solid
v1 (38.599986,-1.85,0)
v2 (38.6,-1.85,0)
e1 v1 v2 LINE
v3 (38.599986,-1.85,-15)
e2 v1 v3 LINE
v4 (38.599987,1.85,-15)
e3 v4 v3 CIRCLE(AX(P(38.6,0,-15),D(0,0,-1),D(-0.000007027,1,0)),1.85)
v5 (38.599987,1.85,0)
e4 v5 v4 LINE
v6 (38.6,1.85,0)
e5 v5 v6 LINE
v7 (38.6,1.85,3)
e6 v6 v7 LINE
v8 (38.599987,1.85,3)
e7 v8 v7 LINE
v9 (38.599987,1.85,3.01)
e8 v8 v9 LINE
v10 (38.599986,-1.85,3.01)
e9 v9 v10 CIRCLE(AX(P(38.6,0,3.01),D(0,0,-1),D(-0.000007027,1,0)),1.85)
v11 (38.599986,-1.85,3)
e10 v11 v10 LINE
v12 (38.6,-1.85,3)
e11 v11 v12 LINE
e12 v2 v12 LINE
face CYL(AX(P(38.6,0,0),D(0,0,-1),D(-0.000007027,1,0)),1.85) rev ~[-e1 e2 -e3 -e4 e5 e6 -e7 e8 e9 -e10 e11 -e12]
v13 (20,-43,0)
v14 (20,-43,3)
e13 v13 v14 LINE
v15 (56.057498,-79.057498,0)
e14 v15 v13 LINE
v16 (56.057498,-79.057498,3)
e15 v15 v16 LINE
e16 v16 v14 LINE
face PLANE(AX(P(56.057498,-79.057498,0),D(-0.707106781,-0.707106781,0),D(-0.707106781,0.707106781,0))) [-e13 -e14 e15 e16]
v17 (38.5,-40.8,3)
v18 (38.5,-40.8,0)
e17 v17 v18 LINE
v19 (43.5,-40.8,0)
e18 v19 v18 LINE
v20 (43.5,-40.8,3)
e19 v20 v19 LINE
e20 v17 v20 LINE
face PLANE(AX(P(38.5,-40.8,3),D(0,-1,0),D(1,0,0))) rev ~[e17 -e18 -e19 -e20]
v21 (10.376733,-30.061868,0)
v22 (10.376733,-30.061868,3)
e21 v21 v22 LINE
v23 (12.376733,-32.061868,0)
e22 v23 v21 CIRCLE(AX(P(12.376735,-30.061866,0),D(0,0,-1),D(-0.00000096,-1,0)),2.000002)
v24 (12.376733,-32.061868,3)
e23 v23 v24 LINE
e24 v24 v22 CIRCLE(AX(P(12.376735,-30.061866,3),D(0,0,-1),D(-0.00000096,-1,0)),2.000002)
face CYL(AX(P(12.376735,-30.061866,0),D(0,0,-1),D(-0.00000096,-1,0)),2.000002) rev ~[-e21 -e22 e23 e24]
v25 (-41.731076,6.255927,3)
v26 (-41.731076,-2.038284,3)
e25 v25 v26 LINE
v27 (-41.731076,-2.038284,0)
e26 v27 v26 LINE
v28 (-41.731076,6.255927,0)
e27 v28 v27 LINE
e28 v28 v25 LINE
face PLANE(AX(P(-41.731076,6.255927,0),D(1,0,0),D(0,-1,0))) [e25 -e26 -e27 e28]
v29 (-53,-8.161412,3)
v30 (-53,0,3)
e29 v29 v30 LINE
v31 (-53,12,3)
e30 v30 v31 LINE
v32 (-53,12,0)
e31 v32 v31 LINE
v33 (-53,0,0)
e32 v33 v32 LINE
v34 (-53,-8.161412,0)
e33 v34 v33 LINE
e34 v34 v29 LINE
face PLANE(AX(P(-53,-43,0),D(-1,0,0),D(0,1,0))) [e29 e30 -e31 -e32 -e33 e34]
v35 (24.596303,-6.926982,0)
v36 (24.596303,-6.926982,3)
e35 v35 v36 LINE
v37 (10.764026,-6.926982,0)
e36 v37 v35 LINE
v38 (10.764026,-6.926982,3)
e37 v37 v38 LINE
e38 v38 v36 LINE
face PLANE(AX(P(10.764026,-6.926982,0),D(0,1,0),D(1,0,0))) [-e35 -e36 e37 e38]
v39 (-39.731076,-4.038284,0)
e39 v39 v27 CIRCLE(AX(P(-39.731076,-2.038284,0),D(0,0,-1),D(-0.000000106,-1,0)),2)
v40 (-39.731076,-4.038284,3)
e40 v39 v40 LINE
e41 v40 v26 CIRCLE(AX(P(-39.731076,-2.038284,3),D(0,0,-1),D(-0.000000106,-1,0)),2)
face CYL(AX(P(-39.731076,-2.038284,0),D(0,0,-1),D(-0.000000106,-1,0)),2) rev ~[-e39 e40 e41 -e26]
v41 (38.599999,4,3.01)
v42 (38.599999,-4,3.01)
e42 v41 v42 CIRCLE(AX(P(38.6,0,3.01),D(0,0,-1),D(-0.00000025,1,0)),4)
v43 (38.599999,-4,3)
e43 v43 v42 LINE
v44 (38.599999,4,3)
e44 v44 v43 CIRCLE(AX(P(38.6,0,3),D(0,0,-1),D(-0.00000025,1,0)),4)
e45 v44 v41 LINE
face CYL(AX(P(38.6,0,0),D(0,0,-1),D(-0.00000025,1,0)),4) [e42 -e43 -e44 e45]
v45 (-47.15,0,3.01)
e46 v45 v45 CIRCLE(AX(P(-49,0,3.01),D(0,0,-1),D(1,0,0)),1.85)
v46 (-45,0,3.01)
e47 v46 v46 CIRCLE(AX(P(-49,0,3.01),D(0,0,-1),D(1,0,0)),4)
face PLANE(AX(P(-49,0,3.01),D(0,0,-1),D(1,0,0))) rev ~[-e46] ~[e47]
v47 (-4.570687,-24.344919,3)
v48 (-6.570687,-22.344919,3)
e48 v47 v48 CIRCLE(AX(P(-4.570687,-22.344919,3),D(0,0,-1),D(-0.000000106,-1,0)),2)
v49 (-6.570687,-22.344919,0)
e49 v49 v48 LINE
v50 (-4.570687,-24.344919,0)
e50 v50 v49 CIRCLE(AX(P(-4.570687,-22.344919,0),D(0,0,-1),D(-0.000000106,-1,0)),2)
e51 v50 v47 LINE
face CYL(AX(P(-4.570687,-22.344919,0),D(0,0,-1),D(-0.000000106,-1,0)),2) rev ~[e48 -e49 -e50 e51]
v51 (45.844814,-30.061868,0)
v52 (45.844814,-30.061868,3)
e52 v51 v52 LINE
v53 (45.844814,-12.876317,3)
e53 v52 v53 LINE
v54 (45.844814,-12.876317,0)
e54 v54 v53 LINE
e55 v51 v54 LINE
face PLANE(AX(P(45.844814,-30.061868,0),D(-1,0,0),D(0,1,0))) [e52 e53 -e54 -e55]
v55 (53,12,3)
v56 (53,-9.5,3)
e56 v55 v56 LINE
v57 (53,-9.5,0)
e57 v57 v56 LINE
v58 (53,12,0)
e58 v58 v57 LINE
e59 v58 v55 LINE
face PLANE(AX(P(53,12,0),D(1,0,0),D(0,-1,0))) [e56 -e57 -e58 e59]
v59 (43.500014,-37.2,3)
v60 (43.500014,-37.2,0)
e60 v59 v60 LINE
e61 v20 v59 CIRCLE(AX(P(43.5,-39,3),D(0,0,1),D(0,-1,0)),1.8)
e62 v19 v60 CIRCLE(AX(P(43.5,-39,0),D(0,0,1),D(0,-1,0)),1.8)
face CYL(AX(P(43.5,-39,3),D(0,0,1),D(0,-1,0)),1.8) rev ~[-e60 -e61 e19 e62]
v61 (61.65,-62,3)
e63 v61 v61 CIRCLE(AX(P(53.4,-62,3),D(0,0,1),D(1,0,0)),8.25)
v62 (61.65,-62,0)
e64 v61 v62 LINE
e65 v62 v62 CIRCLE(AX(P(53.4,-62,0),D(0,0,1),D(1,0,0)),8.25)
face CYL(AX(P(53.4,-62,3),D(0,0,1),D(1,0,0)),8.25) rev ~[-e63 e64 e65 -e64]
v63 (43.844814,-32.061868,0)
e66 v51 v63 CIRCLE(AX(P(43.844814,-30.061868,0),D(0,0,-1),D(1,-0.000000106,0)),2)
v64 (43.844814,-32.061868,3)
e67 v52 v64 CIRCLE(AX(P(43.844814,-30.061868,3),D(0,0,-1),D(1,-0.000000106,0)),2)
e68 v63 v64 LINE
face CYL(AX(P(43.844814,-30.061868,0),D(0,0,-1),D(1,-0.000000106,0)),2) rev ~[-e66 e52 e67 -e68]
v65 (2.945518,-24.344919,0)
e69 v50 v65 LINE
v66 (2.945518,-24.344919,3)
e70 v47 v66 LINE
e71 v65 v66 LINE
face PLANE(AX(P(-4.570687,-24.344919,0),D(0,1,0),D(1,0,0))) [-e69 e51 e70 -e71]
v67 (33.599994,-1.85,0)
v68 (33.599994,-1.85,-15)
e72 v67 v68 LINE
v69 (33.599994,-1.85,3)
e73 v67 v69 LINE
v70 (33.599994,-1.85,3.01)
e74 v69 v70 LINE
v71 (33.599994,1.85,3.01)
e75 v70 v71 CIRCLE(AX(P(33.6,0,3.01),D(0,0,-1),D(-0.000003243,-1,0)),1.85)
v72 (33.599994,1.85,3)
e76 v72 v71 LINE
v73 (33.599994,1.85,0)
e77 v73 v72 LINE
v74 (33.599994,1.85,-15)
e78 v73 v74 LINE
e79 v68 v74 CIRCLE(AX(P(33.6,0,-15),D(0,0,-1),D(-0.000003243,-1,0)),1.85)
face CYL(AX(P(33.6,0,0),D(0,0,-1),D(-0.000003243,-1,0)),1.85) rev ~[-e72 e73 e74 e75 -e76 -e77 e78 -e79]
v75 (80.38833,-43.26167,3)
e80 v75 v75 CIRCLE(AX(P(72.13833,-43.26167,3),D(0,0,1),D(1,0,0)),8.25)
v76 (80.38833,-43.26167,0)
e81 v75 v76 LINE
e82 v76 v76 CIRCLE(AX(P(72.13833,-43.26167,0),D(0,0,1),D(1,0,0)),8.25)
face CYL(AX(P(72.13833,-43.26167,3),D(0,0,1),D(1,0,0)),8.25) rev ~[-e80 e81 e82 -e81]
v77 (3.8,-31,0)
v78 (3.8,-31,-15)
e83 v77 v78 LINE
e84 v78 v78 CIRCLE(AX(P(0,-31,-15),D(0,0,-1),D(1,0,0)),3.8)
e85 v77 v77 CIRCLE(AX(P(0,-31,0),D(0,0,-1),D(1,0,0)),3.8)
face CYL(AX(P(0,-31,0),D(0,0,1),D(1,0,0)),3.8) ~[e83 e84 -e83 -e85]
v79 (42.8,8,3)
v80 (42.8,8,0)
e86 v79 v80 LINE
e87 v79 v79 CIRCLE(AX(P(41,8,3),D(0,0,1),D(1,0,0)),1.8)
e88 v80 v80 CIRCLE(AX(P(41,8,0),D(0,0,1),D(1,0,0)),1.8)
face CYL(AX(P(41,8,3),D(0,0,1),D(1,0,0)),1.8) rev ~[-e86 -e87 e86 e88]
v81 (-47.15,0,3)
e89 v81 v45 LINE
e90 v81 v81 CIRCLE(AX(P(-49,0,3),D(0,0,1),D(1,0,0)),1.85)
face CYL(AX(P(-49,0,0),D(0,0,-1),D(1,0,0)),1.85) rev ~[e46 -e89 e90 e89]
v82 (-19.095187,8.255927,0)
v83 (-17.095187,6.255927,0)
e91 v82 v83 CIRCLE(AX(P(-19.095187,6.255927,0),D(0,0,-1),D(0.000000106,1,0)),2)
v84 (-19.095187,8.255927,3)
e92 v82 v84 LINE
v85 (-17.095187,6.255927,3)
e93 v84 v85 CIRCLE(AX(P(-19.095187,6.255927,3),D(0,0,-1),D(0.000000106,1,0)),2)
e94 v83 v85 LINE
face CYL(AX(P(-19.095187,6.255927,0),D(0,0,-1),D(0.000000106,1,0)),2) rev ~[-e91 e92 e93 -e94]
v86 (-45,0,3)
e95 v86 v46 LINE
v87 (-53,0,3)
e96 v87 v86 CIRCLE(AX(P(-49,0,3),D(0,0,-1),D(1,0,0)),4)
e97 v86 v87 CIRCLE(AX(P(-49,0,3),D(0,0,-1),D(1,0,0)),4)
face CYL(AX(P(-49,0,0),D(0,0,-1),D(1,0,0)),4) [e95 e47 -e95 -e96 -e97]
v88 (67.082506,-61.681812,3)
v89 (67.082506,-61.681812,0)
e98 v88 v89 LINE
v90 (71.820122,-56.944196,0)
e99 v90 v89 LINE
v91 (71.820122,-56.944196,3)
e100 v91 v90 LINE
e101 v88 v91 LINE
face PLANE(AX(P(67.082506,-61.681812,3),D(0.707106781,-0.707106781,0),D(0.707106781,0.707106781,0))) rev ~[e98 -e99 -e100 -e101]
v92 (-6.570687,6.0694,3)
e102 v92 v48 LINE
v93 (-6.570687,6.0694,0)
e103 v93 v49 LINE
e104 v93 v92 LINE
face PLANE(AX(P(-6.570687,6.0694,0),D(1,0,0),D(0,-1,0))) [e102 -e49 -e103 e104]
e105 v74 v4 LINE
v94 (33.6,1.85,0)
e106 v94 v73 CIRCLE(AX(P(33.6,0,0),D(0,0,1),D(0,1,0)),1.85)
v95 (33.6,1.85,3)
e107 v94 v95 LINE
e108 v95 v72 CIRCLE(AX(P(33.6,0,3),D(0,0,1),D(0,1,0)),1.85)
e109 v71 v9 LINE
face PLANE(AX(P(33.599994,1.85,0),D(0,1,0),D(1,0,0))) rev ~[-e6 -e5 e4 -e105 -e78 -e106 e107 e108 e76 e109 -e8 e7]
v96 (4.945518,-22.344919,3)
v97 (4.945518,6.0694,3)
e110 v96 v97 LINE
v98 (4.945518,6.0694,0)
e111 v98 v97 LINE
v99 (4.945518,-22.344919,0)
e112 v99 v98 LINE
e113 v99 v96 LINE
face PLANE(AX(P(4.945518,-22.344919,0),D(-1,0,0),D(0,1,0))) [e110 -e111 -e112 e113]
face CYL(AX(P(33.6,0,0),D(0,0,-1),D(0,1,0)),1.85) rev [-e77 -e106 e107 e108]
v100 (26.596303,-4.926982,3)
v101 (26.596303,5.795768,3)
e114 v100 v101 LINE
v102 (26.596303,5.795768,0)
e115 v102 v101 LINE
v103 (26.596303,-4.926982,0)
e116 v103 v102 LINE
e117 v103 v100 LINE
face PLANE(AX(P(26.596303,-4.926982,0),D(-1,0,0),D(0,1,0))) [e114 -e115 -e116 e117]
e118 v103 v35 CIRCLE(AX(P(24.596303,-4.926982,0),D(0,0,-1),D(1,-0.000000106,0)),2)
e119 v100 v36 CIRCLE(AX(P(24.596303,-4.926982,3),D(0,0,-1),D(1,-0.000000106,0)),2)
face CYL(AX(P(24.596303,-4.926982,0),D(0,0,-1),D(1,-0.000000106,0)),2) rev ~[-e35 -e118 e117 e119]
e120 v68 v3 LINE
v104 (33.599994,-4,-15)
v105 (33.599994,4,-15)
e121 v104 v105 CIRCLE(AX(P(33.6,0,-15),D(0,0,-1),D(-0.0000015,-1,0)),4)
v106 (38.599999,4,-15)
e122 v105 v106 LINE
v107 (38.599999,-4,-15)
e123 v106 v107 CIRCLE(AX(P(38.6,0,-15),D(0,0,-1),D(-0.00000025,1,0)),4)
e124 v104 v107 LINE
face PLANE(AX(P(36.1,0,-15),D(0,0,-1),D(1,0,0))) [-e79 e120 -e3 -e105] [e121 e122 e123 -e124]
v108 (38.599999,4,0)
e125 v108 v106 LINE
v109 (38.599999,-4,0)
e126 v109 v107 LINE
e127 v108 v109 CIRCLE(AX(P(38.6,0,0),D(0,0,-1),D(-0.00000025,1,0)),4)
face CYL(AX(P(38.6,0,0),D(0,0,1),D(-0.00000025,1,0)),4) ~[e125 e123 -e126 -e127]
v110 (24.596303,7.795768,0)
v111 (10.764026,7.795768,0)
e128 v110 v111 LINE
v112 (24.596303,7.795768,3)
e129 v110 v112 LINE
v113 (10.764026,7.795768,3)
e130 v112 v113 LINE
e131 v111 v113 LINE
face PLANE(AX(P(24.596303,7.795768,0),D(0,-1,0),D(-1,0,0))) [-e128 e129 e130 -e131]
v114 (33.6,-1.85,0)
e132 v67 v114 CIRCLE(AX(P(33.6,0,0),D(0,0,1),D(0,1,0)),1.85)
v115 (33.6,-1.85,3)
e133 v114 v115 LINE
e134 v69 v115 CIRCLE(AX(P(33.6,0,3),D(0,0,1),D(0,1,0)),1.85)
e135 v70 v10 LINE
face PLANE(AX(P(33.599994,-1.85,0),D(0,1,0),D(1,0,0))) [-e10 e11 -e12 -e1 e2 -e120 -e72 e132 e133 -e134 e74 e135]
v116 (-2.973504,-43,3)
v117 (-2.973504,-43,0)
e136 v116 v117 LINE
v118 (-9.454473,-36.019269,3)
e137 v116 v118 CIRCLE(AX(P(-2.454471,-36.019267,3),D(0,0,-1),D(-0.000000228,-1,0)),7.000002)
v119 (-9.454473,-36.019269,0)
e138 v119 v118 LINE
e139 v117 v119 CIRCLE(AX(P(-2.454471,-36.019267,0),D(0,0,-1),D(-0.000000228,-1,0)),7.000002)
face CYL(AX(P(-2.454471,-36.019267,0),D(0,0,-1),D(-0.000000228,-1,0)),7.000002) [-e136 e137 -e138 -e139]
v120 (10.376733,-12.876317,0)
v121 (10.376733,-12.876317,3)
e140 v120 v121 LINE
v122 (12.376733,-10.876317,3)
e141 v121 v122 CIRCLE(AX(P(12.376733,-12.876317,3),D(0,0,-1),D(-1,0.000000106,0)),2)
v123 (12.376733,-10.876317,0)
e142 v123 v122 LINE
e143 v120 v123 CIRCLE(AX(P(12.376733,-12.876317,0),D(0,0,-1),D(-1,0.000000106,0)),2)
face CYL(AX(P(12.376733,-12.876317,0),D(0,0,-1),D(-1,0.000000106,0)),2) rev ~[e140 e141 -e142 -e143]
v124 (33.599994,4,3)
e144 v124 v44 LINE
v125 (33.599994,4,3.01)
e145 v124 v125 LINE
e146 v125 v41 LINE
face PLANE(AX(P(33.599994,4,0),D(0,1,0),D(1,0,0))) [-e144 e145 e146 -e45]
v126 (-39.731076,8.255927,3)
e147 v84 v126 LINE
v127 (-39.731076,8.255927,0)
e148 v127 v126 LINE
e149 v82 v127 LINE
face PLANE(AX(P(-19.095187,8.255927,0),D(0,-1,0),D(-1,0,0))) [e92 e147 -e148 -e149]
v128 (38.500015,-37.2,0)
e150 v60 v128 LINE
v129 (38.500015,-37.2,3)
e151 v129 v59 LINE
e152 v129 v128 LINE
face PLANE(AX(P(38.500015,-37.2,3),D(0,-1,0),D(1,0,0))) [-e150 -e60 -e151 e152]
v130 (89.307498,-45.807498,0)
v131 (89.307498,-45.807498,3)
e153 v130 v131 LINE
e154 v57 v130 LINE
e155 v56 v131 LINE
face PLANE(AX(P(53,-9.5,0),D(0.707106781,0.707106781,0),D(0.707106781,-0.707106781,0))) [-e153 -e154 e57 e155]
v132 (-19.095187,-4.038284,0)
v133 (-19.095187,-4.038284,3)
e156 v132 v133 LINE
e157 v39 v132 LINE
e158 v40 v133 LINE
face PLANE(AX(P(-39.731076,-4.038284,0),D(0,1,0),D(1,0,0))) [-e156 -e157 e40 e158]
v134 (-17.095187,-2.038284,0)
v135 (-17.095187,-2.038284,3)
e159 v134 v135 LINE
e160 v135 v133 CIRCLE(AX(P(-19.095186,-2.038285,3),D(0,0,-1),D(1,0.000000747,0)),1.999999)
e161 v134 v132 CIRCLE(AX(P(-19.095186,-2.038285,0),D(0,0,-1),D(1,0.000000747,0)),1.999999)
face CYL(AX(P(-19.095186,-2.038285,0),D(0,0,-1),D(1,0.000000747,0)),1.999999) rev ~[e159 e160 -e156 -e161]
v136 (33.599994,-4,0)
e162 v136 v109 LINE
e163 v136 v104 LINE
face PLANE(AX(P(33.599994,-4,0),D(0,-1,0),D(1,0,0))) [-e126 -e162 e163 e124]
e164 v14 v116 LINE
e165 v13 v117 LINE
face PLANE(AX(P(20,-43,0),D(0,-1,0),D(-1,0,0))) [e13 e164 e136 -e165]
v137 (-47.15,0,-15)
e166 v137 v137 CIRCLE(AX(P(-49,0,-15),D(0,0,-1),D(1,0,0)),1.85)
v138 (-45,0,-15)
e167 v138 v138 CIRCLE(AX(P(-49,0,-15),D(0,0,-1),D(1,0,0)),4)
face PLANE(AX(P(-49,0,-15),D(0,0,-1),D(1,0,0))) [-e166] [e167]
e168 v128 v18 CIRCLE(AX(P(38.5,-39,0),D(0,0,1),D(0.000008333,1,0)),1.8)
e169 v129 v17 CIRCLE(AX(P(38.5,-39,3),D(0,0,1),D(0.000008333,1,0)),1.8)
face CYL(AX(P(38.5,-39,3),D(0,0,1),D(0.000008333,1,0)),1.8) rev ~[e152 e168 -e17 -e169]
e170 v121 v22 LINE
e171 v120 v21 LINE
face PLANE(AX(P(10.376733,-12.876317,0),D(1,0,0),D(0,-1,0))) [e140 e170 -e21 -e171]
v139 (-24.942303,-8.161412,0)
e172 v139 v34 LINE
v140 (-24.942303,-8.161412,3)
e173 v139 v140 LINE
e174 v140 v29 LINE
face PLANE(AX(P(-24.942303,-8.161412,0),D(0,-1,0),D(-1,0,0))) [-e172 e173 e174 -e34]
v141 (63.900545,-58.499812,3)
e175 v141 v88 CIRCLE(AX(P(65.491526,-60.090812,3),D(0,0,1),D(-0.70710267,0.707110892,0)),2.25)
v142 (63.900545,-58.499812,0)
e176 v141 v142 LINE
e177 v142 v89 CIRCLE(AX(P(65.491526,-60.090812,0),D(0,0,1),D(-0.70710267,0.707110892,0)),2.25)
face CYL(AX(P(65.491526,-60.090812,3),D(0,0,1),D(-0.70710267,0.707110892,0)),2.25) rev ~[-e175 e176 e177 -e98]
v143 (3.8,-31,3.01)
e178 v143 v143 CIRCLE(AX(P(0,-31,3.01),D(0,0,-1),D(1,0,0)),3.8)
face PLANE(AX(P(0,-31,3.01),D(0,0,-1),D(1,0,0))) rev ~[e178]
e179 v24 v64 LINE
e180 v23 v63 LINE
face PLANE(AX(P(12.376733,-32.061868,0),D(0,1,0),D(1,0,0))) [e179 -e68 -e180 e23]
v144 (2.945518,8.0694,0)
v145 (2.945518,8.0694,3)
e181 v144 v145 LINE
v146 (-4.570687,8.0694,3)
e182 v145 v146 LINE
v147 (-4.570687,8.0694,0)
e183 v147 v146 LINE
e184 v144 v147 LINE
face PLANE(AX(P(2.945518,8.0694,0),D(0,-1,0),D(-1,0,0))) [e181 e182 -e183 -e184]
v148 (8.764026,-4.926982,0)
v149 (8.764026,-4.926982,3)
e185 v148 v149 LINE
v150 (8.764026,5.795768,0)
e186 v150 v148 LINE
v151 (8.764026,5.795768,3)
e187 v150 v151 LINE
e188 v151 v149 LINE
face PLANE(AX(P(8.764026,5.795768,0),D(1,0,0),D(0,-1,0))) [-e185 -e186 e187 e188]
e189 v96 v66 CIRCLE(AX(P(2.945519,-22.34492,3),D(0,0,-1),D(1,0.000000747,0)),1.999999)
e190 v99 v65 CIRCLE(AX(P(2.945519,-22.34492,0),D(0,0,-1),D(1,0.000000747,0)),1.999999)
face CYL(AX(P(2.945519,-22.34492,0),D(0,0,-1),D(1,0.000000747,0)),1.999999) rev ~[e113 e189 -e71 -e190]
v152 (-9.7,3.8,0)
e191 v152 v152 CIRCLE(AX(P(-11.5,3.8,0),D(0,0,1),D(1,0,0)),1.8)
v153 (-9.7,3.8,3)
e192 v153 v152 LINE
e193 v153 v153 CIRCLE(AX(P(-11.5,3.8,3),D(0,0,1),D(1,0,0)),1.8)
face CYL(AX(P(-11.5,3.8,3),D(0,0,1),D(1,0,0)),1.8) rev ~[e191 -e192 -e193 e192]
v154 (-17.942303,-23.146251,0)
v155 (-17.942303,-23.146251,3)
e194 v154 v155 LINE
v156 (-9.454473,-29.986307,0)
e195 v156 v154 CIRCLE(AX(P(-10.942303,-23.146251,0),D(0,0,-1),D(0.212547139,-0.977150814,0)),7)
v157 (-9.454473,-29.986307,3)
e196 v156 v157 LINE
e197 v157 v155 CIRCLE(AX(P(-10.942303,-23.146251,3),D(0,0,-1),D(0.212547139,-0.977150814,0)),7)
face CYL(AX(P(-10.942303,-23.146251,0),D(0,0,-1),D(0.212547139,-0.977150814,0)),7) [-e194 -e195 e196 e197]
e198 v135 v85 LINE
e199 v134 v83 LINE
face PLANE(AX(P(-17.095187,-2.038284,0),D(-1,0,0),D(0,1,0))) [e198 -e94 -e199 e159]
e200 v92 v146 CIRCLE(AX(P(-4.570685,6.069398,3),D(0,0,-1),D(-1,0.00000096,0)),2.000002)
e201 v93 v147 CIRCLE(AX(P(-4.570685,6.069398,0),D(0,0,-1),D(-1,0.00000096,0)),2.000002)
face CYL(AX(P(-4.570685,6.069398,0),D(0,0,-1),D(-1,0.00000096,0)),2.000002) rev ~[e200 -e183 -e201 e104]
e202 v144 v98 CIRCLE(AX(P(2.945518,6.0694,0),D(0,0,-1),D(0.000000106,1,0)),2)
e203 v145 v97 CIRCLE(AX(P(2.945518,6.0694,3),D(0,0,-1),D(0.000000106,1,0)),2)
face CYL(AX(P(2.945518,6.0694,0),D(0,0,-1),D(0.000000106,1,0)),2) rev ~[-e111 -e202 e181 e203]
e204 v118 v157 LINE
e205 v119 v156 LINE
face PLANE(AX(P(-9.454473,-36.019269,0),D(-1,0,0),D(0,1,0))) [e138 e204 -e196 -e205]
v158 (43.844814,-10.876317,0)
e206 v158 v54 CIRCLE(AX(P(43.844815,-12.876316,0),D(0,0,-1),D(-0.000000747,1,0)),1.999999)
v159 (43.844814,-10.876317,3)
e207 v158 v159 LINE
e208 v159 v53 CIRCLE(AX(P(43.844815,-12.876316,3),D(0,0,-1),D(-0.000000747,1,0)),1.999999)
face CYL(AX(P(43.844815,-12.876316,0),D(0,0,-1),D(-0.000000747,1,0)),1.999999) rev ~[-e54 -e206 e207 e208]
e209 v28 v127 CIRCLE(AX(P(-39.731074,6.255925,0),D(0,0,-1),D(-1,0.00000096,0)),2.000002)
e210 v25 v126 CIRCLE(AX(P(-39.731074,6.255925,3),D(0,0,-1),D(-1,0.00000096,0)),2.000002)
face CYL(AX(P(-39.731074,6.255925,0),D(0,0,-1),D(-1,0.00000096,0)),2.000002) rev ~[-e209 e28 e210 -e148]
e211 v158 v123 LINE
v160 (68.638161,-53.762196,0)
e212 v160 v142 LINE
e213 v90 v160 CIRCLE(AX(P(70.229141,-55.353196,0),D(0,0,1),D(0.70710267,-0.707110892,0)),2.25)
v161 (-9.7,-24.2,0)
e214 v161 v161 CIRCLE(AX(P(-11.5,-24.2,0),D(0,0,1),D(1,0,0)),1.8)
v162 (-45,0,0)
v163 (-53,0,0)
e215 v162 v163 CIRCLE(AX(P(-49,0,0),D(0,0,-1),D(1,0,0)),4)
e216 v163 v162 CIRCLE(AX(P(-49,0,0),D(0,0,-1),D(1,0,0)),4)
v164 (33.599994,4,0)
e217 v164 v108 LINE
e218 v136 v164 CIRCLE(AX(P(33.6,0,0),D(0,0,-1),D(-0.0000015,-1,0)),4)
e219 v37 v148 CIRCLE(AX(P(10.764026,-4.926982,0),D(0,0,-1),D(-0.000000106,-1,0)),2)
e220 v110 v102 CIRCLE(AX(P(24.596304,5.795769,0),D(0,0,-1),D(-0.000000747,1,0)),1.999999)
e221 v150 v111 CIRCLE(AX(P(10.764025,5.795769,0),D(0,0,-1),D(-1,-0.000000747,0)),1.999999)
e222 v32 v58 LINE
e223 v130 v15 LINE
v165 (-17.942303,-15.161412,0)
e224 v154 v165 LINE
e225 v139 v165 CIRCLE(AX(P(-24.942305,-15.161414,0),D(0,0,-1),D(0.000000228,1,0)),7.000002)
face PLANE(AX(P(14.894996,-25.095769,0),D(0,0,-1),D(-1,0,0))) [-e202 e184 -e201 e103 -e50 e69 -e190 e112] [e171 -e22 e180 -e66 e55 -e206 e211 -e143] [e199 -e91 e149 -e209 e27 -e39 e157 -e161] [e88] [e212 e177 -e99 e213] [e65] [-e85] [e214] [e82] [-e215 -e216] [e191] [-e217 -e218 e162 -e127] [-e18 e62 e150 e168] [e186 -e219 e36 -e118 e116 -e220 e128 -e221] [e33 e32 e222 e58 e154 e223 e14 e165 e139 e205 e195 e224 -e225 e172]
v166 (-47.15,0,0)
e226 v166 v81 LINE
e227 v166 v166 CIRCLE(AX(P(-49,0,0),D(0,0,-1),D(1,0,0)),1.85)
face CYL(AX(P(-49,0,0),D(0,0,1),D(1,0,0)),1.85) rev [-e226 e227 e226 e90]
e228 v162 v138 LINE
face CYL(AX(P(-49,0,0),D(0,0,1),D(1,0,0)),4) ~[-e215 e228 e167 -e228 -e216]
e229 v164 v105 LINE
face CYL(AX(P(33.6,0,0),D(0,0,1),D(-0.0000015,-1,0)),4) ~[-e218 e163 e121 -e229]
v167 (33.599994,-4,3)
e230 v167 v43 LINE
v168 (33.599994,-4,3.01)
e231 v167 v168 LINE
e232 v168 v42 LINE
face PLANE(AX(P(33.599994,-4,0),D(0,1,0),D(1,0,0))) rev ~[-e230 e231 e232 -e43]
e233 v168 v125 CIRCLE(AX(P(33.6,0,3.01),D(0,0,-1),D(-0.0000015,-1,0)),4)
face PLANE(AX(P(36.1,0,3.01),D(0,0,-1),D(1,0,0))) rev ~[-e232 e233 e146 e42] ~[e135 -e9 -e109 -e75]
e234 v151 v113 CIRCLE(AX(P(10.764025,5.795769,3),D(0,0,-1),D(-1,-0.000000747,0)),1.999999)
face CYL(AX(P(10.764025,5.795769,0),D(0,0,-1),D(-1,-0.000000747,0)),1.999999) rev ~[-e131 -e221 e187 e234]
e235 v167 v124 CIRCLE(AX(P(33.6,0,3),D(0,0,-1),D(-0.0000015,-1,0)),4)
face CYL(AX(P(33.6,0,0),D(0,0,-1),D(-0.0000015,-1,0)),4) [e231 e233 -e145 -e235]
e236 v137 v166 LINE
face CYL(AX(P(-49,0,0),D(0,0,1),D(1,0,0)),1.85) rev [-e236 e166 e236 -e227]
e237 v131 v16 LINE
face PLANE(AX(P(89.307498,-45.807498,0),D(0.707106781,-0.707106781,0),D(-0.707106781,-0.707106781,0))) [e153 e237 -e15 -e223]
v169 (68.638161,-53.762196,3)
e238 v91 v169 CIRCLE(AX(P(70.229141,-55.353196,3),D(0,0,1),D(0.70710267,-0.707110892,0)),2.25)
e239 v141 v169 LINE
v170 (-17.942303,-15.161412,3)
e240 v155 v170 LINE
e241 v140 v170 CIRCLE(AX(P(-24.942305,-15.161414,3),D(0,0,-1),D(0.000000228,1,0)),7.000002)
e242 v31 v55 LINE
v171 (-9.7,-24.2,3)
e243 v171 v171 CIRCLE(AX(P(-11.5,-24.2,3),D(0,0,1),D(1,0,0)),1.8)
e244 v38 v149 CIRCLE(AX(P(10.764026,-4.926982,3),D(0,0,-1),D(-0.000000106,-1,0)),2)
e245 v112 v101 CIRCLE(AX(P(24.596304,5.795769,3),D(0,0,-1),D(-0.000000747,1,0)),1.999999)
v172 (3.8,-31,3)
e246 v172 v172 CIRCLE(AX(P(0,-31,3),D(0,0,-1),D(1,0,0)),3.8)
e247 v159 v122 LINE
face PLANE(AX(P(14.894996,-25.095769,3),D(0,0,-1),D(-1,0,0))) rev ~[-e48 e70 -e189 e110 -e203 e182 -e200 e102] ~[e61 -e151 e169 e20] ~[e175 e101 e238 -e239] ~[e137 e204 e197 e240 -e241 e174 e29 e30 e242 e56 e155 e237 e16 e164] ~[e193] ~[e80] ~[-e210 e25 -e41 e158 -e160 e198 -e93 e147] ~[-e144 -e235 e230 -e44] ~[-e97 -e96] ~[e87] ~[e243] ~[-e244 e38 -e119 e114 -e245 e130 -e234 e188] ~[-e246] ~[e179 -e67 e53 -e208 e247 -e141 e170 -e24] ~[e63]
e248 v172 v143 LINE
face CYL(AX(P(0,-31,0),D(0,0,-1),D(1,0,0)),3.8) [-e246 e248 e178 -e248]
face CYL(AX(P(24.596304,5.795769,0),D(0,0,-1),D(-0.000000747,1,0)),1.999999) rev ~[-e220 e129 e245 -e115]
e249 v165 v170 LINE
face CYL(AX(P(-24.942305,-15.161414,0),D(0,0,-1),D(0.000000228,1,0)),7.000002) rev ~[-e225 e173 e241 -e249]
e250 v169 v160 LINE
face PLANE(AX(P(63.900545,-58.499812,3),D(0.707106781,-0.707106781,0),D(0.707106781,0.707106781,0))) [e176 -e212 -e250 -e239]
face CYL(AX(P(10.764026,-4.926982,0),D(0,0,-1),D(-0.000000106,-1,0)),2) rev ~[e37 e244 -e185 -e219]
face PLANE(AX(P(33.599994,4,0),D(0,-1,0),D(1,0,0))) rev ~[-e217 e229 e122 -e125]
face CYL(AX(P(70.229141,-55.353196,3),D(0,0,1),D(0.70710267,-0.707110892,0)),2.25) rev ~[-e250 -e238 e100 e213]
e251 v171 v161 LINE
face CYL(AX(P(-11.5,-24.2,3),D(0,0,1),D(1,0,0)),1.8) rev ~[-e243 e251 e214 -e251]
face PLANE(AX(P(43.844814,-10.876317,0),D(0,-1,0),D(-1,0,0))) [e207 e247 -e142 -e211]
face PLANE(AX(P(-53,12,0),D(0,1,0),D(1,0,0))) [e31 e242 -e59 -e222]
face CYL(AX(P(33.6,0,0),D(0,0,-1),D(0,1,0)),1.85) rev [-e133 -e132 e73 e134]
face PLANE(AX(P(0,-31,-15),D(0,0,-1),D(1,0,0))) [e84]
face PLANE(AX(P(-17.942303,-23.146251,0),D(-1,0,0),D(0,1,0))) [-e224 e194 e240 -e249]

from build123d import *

# Parameters (mm, degrees)
SKETCH_R          = 1.85
PAD_DEPTH         = 3
SKETCH002_R       = 8.25
POCKET_DEPTH      = 5
SKETCH003_R       = 1.8
POCKET001_DEPTH   = 5
SKETCH001_R       = 3.8
SKETCH001_R_2     = 4
SKETCH001_R_3     = 1.85
PAD001_DEPTH      = 15
PAD001_DEPTH_BACK = 3.01
POCKET002_DEPTH   = 5


with BuildPart() as part:
    # Sketch → Pad (new body)
    with BuildSketch(Plane.XY):
        Polygon((-53, 12), (53, 12), (53, -9.5), (89.307498, -45.807498), (56.057498, -79.057498), (20, -43), (-53, -43), align=None)
        with Locations((-49, 0)):
            Circle(SKETCH_R, mode=Mode.SUBTRACT)
        with BuildLine():
            ThreePointArc((33.6, 1.85), (31.75, 0), (33.6, -1.85))
            Line((33.6, -1.85), (38.6, -1.85))
            ThreePointArc((38.6, -1.85), (40.45, 0), (38.6, 1.85))
            Line((33.6, 1.85), (38.6, 1.85))
        make_face(mode=Mode.SUBTRACT)
    extrude(amount=PAD_DEPTH)

    # Sketch002 → Pocket (cut)
    with BuildSketch(Plane.XY.offset(3)):
        with Locations((53.4, -62)):
            Circle(SKETCH002_R)
        with Locations((72.13833, -43.26167)):
            Circle(SKETCH002_R)
        with BuildLine():
            ThreePointArc((63.900545, -58.499812), (63.900526, -61.681792), (67.082506, -61.681812))
            Line((67.082506, -61.681812), (71.820122, -56.944196))
            ThreePointArc((71.820122, -56.944196), (71.820141, -53.762216), (68.638161, -53.762196))
            Line((63.900545, -58.499812), (68.638161, -53.762196))
        make_face()
    extrude(amount=-POCKET_DEPTH, mode=Mode.SUBTRACT)

    # Sketch003 → Pocket001 (cut)
    with BuildSketch(Plane.XY.offset(3)):
        with Locations((41, 8)):
            Circle(SKETCH003_R)
        with Locations((-11.5, 3.8)):
            Circle(SKETCH003_R)
        with Locations((-11.5, -24.2)):
            Circle(SKETCH003_R)
        with BuildLine():
            ThreePointArc((38.500015, -37.2), (36.7, -38.999992), (38.5, -40.8))
            Line((38.5, -40.8), (43.5, -40.8))
            ThreePointArc((43.5, -40.8), (45.3, -39.000007), (43.500014, -37.2))
            Line((38.500015, -37.2), (43.500014, -37.2))
        make_face()
    extrude(amount=-POCKET001_DEPTH, mode=Mode.SUBTRACT)

    # Sketch001 → Pad001 (new body, two sides)
    with BuildSketch(Plane(origin=(0, 0, 0), x_dir=(1, 0, 0), z_dir=(0, 0, -1))) as pad001_sk:
        with Locations((0, 31)):
            Circle(SKETCH001_R)
        with Locations((-49, 0)):
            Circle(SKETCH001_R_2)
        with Locations((-49, 0)):
            Circle(SKETCH001_R_3, mode=Mode.SUBTRACT)
        with BuildLine():
            ThreePointArc((33.599994, 4), (29.6, 0), (33.599994, -4))
            Line((33.599994, -4), (38.599999, -4))
            ThreePointArc((38.599999, -4), (42.6, 0), (38.599999, 4))
            Line((33.599994, 4), (38.599999, 4))
        make_face()
        with BuildLine():
            ThreePointArc((33.599994, 1.85), (31.75, 0), (33.599994, -1.85))
            Line((33.599994, -1.85), (38.599987, -1.85))
            ThreePointArc((38.599987, -1.85), (40.45, 0), (38.599986, 1.85))
            Line((33.599994, 1.85), (38.599986, 1.85))
        make_face(mode=Mode.SUBTRACT)
    extrude(amount=PAD001_DEPTH)
    extrude(pad001_sk.sketch, amount=-PAD001_DEPTH_BACK)

    # Sketch005 → Pocket002 (cut)
    with BuildSketch(Plane(origin=(0, 0, 0), x_dir=(1, 0, 0), z_dir=(0, 0, -1))):
        with BuildLine():
            Line((-54.253271, 49.235991), (-17.942303, 49.235991))
            Line((-17.942303, 49.235991), (-17.942303, 43.633577))
            Line((-17.942303, 43.633577), (-9.10105, 43.633577))
            Line((-9.10105, 43.633577), (-9.10105, 45.139777))
            Line((-9.10105, 45.139777), (-1.154269, 45.139777))
            Line((-1.154269, 45.139777), (-1.154269, 43.019269))
            Line((-1.154269, 43.019269), (-2.454473, 43.019269))
            ThreePointArc((-2.454473, 43.019269), (-7.40422, 40.969016), (-9.454473, 36.019269))
            Line((-9.454473, 36.019269), (-9.454473, 29.986307))
            ThreePointArc((-9.454473, 29.986307), (-15.334637, 28.596701), (-17.942303, 23.146251))
            Line((-17.942303, 23.146251), (-17.942303, 15.161412))
            ThreePointArc((-24.942303, 8.161412), (-19.992556, 10.211665), (-17.942303, 15.161412))
            Line((-24.942303, 8.161412), (-59.799003, 8.161412))
            ThreePointArc((-65.681137, 14.043546), (-63.9583, 9.884249), (-59.799003, 8.161412))
            Line((-65.681137, 14.043546), (-65.681137, 37.808126))
            ThreePointArc((-54.253271, 49.235991), (-62.333993, 45.888847), (-65.681137, 37.808126))
        make_face()
        with BuildLine():
            Line((12.376733, 32.061868), (43.844814, 32.061868))
            ThreePointArc((45.844814, 30.061868), (45.259028, 31.476081), (43.844814, 32.061868))
            Line((45.844814, 30.061868), (45.844814, 12.876317))
            ThreePointArc((43.844814, 10.876317), (45.259028, 11.462103), (45.844814, 12.876317))
            Line((43.844814, 10.876317), (12.376733, 10.876317))
            ThreePointArc((10.376733, 12.876317), (10.96252, 11.462103), (12.376733, 10.876317))
            Line((10.376733, 12.876317), (10.376733, 30.061868))
            ThreePointArc((12.376733, 32.061868), (10.96252, 31.476081), (10.376733, 30.061868))
        make_face()
        with BuildLine():
            Line((-4.570687, 24.344919), (2.945518, 24.344919))
            ThreePointArc((4.945518, 22.344919), (4.359732, 23.759133), (2.945518, 24.344919))
            Line((4.945518, 22.344919), (4.945518, -6.0694))
            ThreePointArc((2.945518, -8.0694), (4.359732, -7.483613), (4.945518, -6.0694))
            Line((2.945518, -8.0694), (-4.570687, -8.0694))
            ThreePointArc((-6.570687, -6.0694), (-5.9849, -7.483613), (-4.570687, -8.0694))
            Line((-6.570687, -6.0694), (-6.570687, 22.344919))
            ThreePointArc((-4.570687, 24.344919), (-5.9849, 23.759133), (-6.570687, 22.344919))
        make_face()
        with BuildLine():
            Line((10.764026, 6.926982), (24.596303, 6.926982))
            ThreePointArc((26.596303, 4.926982), (26.010517, 6.341195), (24.596303, 6.926982))
            Line((26.596303, 4.926982), (26.596303, -5.795768))
            ThreePointArc((24.596303, -7.795768), (26.010517, -7.209982), (26.596303, -5.795768))
            Line((24.596303, -7.795768), (10.764026, -7.795768))
            ThreePointArc((8.764026, -5.795768), (9.349812, -7.209982), (10.764026, -7.795768))
            Line((8.764026, -5.795768), (8.764026, 4.926982))
            ThreePointArc((10.764026, 6.926982), (9.349812, 6.341195), (8.764026, 4.926982))
        make_face()
        with BuildLine():
            Line((-39.731076, 4.038284), (-19.095187, 4.038284))
            ThreePointArc((-17.095187, 2.038284), (-17.680973, 3.452498), (-19.095187, 4.038284))
            Line((-17.095187, 2.038284), (-17.095187, -6.255927))
            ThreePointArc((-19.095187, -8.255927), (-17.680973, -7.67014), (-17.095187, -6.255927))
            Line((-19.095187, -8.255927), (-39.731076, -8.255927))
            ThreePointArc((-41.731076, -6.255927), (-41.145289, -7.67014), (-39.731076, -8.255927))
            Line((-41.731076, -6.255927), (-41.731076, 2.038284))
            ThreePointArc((-39.731076, 4.038284), (-41.145289, 3.452498), (-41.731076, 2.038284))
        make_face()
    extrude(amount=-POCKET002_DEPTH, mode=Mode.SUBTRACT)


solid = part.part
